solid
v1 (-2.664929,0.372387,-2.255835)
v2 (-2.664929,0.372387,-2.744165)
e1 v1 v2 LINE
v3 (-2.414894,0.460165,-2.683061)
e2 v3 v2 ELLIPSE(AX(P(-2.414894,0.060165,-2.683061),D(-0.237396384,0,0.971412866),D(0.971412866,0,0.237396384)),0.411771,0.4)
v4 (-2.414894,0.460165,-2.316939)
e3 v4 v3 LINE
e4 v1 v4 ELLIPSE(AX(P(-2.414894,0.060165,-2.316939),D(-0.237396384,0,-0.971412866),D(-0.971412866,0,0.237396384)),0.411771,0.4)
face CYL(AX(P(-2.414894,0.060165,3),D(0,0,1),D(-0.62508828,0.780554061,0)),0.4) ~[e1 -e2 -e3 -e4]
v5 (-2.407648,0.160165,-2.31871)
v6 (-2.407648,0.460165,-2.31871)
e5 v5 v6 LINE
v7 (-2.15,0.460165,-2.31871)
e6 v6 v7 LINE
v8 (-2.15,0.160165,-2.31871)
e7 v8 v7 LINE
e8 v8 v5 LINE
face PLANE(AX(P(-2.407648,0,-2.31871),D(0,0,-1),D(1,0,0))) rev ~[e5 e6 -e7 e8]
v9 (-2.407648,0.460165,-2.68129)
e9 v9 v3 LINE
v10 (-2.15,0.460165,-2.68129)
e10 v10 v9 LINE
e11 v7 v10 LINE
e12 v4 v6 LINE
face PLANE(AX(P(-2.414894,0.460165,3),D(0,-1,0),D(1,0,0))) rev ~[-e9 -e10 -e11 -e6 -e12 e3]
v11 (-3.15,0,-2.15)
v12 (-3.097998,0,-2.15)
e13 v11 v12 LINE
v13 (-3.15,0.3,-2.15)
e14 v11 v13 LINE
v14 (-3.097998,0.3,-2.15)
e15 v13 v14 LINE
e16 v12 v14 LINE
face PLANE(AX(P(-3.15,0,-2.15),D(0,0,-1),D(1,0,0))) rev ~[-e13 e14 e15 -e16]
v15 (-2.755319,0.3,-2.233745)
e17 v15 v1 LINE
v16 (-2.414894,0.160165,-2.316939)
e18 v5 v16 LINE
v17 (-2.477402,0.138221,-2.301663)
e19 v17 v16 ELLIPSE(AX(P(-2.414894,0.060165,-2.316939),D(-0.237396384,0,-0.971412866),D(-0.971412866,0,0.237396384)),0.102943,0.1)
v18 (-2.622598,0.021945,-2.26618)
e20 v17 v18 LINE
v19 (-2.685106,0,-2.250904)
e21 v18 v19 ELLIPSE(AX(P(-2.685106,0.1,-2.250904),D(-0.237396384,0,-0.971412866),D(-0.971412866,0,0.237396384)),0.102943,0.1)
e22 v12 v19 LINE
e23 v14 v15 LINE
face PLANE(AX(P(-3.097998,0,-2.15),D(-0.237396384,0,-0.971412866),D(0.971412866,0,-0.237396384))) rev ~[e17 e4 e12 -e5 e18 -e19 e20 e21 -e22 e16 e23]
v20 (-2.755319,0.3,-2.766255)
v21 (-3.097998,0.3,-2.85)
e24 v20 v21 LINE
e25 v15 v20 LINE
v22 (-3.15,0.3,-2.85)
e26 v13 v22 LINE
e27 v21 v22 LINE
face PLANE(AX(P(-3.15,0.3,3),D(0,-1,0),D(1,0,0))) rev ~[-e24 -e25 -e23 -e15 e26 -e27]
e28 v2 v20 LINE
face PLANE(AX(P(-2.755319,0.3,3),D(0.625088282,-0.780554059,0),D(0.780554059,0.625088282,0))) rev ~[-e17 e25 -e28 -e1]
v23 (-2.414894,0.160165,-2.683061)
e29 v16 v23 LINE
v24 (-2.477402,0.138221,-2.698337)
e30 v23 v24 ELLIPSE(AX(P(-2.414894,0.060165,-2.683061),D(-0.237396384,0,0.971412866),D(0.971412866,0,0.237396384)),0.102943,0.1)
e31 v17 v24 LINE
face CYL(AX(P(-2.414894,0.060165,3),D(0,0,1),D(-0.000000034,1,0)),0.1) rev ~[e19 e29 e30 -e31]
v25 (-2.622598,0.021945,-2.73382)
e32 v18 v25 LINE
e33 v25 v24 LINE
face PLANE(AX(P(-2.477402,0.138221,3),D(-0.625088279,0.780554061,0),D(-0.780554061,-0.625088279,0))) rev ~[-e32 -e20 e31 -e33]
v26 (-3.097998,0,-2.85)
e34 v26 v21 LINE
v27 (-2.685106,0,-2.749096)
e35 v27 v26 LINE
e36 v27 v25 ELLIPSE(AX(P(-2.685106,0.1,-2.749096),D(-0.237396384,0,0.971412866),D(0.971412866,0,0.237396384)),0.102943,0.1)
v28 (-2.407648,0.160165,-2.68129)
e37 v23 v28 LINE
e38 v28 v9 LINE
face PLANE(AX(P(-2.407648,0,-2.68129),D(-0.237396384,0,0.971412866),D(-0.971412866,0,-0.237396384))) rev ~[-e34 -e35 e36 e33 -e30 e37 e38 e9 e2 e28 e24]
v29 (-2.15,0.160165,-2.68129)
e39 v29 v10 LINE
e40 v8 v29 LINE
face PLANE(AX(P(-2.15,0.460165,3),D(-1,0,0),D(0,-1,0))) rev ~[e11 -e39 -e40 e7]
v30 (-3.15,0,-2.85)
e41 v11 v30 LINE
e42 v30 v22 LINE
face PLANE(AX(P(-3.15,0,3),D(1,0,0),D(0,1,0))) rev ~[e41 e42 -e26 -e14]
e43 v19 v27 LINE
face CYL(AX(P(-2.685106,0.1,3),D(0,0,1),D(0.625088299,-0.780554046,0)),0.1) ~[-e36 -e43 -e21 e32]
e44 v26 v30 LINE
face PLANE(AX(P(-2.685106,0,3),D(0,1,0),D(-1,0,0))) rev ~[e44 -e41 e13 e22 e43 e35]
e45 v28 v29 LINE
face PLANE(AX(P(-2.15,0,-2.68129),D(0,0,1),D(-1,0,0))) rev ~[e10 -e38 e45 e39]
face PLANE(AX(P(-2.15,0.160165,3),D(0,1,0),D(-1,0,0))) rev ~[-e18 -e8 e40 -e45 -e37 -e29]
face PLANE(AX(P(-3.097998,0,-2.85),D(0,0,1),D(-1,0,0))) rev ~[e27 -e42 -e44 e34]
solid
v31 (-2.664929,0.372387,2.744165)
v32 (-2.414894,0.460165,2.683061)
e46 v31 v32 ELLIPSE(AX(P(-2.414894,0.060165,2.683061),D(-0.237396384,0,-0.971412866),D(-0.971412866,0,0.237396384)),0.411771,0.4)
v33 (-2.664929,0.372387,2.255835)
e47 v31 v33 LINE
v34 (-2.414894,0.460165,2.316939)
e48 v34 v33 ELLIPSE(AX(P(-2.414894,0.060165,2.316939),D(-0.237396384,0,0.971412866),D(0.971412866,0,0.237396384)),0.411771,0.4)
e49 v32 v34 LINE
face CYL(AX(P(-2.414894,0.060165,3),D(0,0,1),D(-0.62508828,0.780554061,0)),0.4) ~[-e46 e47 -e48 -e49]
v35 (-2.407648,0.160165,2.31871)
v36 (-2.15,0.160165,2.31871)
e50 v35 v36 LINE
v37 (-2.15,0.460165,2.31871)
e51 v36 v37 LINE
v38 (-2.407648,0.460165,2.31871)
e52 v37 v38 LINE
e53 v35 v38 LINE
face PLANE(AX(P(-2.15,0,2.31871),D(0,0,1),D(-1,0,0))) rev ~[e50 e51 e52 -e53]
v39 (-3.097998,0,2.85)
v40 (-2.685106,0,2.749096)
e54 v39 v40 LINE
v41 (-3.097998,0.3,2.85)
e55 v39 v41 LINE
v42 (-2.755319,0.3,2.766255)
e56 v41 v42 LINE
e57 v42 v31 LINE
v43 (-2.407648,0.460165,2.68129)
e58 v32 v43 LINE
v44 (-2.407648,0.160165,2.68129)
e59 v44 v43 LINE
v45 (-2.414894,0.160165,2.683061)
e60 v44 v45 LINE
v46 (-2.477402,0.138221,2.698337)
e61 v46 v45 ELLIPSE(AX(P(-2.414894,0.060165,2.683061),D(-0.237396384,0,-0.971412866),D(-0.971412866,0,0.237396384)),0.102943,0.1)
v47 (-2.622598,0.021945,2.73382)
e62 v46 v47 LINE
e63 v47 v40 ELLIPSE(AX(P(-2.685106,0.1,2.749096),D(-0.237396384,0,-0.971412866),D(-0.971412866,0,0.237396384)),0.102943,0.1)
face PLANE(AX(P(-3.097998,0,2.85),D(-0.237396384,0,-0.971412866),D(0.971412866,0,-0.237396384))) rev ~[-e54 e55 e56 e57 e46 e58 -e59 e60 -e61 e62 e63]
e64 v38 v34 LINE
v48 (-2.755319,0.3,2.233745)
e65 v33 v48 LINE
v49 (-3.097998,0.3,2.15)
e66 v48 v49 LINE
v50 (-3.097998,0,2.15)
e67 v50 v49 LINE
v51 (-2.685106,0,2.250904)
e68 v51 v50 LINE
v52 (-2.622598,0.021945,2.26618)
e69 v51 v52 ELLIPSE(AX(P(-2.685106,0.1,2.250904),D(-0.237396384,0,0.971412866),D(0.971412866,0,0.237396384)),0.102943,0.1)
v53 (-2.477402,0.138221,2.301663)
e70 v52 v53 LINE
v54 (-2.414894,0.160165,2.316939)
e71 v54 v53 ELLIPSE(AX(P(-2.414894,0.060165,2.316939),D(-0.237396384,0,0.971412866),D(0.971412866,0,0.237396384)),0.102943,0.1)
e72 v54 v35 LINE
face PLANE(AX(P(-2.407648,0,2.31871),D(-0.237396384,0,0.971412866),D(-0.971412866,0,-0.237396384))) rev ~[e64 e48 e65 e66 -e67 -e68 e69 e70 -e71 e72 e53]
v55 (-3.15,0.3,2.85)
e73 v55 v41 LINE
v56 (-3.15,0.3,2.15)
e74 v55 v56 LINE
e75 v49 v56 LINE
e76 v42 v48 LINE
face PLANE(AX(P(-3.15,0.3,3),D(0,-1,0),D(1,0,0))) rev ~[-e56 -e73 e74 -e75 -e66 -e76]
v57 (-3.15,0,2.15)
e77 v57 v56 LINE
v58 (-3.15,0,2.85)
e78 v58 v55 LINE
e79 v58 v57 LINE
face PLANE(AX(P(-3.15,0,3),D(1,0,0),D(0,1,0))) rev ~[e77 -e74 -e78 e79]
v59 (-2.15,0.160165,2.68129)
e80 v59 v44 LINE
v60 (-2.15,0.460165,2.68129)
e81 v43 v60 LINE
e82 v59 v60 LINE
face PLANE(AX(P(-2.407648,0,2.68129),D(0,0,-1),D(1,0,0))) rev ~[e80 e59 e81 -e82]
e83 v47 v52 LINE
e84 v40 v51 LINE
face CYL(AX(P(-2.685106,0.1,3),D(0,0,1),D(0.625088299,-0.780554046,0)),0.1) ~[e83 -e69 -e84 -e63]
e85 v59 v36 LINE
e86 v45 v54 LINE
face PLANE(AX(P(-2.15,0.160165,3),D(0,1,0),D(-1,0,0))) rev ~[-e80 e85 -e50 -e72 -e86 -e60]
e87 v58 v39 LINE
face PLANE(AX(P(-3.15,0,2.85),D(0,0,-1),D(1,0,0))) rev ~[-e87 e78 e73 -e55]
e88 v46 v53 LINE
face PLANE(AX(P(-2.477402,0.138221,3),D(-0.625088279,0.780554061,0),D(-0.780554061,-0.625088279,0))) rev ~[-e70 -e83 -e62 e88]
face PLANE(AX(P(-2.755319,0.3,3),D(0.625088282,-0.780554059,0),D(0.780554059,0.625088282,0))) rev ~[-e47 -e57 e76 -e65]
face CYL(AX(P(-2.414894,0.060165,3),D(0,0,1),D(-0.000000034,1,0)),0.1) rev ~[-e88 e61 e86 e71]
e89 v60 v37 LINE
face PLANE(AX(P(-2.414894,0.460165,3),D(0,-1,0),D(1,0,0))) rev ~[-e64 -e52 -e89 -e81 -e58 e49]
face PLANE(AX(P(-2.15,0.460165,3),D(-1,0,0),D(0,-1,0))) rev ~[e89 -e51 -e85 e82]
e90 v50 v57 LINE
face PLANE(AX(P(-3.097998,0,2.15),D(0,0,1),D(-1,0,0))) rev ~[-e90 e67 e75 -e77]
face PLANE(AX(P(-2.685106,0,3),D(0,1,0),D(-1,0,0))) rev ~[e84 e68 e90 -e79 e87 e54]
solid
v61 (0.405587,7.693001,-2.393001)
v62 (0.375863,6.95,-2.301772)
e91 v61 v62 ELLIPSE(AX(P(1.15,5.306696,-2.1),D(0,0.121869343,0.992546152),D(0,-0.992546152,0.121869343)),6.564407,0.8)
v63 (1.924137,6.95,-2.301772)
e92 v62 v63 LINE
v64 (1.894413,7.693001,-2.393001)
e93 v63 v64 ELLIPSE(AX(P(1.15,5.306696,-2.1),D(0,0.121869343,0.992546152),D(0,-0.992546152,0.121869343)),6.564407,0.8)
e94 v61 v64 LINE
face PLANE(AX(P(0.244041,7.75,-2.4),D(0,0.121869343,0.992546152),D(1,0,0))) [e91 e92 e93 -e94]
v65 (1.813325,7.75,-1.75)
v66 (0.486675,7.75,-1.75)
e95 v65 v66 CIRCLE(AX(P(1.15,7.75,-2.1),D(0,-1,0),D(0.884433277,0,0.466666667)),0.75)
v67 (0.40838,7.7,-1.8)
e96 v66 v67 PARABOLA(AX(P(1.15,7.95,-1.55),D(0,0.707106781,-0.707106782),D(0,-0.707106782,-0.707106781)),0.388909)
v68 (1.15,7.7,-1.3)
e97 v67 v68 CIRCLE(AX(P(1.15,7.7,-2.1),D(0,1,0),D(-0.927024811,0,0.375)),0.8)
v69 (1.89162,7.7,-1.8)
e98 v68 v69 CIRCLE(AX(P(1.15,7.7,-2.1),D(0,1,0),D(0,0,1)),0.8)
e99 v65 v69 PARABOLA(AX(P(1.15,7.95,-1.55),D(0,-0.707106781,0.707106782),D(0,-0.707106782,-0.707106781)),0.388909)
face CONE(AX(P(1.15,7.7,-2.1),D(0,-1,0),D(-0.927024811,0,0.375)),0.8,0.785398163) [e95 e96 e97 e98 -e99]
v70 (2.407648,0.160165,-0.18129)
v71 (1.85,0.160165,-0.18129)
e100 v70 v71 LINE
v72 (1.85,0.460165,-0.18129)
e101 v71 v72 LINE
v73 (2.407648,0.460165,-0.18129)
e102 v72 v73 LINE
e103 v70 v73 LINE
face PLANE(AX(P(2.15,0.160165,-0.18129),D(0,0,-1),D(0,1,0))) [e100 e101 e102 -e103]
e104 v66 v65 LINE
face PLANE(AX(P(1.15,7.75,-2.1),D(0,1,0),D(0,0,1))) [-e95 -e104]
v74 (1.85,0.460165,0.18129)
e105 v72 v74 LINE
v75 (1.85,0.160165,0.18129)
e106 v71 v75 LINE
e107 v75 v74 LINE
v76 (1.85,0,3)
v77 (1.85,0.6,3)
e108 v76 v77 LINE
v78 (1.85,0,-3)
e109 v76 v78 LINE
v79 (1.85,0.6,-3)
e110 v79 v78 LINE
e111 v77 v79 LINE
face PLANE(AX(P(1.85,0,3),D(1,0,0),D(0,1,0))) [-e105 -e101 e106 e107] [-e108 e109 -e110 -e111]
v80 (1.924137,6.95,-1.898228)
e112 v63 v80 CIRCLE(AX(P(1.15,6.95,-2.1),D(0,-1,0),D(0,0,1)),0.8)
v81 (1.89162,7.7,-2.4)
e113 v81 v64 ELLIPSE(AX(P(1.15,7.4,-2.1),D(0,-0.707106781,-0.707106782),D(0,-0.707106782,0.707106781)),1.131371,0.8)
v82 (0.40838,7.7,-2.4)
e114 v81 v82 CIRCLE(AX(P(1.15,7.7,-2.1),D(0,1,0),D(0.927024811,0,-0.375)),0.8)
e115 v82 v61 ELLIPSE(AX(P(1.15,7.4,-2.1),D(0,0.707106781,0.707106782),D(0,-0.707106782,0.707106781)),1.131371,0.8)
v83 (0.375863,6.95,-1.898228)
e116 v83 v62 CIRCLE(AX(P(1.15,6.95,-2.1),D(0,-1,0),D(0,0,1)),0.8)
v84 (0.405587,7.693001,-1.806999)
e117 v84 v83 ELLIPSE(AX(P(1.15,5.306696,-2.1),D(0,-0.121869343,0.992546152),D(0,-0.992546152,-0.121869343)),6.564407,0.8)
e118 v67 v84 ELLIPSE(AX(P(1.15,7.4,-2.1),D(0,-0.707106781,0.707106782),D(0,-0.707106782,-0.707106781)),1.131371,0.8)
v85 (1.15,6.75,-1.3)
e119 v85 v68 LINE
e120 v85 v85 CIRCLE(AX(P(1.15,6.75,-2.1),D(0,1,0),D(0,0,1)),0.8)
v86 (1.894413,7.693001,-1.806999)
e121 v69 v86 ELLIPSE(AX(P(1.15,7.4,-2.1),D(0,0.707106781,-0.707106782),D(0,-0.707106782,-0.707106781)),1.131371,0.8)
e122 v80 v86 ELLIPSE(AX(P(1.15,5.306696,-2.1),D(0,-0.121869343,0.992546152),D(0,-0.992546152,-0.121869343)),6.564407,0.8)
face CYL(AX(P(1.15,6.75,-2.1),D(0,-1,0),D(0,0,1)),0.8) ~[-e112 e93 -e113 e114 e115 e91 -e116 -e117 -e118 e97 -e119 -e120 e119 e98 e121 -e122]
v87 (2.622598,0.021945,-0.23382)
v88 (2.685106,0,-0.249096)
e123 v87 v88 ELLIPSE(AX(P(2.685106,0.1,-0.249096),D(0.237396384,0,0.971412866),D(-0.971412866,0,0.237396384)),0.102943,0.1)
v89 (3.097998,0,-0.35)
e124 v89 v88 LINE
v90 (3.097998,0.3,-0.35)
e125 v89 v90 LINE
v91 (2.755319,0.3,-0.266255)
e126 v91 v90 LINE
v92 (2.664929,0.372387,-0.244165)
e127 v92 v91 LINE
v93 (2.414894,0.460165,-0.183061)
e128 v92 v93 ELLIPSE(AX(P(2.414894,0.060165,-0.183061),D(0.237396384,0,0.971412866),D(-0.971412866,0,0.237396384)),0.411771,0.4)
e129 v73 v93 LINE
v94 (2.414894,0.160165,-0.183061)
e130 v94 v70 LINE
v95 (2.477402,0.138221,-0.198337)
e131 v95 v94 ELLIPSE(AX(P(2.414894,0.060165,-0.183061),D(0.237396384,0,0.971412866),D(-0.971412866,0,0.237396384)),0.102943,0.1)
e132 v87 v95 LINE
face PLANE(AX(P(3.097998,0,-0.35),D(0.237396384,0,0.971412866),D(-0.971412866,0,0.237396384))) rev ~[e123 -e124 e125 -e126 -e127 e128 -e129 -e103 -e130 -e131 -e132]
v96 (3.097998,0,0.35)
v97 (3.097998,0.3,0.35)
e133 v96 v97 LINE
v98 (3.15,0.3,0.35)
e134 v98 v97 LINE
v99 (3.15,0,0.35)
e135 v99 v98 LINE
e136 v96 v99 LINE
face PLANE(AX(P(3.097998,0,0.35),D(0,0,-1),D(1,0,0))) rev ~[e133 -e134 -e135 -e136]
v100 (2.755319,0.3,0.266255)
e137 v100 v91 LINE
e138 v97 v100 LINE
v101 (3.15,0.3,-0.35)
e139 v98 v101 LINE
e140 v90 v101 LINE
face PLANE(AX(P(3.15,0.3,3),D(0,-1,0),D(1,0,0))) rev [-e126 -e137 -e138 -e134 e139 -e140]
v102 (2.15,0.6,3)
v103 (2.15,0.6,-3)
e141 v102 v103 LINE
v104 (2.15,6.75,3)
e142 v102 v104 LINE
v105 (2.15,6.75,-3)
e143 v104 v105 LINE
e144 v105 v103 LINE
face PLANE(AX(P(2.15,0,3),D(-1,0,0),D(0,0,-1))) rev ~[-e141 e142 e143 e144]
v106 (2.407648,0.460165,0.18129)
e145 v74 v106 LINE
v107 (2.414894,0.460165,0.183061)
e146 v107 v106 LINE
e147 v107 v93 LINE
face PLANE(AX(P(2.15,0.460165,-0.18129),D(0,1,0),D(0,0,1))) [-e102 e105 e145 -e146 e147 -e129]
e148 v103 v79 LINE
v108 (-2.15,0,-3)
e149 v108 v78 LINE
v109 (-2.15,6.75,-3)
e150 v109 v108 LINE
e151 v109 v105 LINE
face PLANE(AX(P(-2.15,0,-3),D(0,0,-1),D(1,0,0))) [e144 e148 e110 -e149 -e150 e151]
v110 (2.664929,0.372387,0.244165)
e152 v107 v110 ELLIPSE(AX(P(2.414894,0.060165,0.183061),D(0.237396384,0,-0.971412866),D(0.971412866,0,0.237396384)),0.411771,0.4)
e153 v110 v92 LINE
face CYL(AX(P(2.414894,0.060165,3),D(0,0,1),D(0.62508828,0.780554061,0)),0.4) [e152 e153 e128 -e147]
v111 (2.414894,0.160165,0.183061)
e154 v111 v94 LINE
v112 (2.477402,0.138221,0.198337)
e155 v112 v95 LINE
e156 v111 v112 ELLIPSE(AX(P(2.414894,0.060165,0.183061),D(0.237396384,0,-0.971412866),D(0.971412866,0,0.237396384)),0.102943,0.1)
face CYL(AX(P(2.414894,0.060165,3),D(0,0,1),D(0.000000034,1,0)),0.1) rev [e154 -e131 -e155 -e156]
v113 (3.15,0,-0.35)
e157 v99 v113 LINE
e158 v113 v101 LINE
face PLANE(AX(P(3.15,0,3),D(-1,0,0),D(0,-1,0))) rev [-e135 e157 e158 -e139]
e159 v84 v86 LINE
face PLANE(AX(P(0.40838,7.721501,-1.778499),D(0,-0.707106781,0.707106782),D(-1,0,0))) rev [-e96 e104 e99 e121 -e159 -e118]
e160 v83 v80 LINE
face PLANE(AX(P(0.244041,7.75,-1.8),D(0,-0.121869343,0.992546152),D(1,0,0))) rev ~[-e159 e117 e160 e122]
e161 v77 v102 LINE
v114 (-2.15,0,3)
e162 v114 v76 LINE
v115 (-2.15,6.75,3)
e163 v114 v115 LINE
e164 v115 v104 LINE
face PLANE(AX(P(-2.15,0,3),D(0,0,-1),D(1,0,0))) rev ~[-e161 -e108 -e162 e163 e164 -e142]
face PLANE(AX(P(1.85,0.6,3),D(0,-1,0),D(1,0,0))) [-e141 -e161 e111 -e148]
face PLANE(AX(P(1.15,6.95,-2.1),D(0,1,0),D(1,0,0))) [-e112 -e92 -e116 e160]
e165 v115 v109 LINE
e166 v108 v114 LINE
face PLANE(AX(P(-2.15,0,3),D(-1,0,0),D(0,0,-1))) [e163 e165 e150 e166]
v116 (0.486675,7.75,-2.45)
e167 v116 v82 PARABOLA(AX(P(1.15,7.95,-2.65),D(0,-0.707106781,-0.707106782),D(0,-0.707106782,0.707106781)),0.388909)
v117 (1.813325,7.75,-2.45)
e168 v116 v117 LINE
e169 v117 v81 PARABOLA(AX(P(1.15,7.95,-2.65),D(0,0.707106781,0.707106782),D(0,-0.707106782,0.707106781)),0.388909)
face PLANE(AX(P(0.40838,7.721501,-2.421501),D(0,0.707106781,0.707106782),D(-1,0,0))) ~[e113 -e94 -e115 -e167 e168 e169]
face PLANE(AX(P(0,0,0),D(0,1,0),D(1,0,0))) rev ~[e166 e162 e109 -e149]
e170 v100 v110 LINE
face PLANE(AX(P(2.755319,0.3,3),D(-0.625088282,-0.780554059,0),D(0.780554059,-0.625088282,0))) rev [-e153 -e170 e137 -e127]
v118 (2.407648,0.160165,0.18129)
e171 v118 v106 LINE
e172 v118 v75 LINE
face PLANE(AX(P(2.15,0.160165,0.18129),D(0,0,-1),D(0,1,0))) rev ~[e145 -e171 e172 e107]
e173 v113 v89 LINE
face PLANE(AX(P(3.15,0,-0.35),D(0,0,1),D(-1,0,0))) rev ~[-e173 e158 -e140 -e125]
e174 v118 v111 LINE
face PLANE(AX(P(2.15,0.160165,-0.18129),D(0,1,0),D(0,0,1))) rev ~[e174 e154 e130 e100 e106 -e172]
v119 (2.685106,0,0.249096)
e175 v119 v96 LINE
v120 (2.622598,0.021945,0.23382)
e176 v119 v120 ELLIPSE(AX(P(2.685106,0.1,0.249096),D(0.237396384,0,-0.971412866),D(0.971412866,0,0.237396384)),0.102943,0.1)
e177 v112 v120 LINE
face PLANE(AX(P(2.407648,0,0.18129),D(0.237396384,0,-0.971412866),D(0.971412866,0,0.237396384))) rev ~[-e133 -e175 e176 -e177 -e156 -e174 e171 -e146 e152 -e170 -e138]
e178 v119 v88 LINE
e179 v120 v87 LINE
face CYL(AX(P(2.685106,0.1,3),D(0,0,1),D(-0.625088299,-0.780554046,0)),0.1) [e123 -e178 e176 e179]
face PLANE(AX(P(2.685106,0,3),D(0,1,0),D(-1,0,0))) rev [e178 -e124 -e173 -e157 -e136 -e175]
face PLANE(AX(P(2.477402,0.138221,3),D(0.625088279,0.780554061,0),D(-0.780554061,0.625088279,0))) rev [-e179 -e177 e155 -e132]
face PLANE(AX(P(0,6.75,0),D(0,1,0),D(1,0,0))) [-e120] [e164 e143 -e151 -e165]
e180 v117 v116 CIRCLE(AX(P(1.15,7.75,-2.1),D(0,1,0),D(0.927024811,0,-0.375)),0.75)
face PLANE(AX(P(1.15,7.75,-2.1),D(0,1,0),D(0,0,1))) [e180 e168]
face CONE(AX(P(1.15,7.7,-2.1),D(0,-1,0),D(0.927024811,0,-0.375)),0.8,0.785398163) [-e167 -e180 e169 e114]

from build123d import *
from OCP.BRepFilletAPI import BRepFilletAPI_MakeChamfer

# Parameters (mm, degrees)
SKETCH1_W           = 4.3
SKETCH1_H           = 6
BOSS_EXTRUDE1_DEPTH = 6.75
SKETCH2_R           = 0.8
BOSS_EXTRUDE2_DEPTH = 1
SKETCH3_W           = 1.811917262
SKETCH3_H           = 0.6
CUT_EXTRUDE2_DEPTH  = 0.8
CUT_EXTRUDE2_DRAFT  = -7
CHAMFER1_SIZE       = 0.05
CHAMFER1_SIZE2      = 0.05742659
BOSS_EXTRUDE3_DEPTH = 6
CUT_EXTRUDE5_DEPTH  = 0.8
SKETCH9_W           = 0.3
SKETCH9_H           = 0.6
CUT_EXTRUDE7_DEPTH  = 11.294901651
SKETCH10_W          = 0.362580834
SKETCH10_H          = 0.3
BOSS_EXTRUDE4_DEPTH = 0.3


with BuildPart() as part:
    # Sketch1 → Boss-Extrude1 (new body)
    with BuildSketch(Plane(origin=(0, 0, 0), x_dir=(1, 0, 0), z_dir=(0, 1, 0))):
        Rectangle(SKETCH1_W, SKETCH1_H)
    extrude(amount=BOSS_EXTRUDE1_DEPTH)

    # Sketch2 → Boss-Extrude2 (add)
    with BuildSketch(Plane(origin=(0, 6.75, 0), x_dir=(1, 0, 0), z_dir=(0, 1, 0))):
        with Locations(Location((1.15, 2.1, 0), (0, 0, 270))):
            Circle(SKETCH2_R)
    extrude(amount=BOSS_EXTRUDE2_DEPTH)


with BuildPart() as cut_extrude2_tool:
    # Sketch3 → Cut-Extrude2 (with draft: the straight prism first)
    with BuildSketch(Plane(origin=(0, 7.75, 0), x_dir=(1, 0, 0), z_dir=(0, 1, 0))):
        with Locations((1.15, 2.1)):
            Rectangle(SKETCH3_W, SKETCH3_H)
    extrude(amount=-CUT_EXTRUDE2_DEPTH)
    # Cut-Extrude2: the draft: its side faces are tilted about the plane it starts from
    cut_extrude2_sides = [cut_extrude2_tool.faces().sort_by_distance(p)[0] for p in [
        (1.15, 7.35, -2.4),
        (0.244041369, 7.35, -2.1),
        (1.15, 7.35, -1.8),
        (2.055958631, 7.35, -2.1),
    ]]
    draft(cut_extrude2_sides, Plane(origin=(0, 7.75, 0), x_dir=(1, 0, 0), z_dir=(0, 1, 0)), CUT_EXTRUDE2_DRAFT)


with BuildPart() as part_1:
    add(part.part)

    # Cut-Extrude2: cut by cut_extrude2_tool
    add(cut_extrude2_tool.part, mode=Mode.SUBTRACT)

    # Chamfer1: one chamfer whose edges measure the first distance from different faces: ONE call of the kernel's chamfer builder (chamfer() names one face for all edges)
    chamfer1_edges_1 = [part_1.edges().sort_by_distance(p)[0] for p in [
        (1.15, 7.75, -2.4),
    ]]
    chamfer1_side_1 = [part_1.faces().sort_by_distance(p)[0] for p in [
        (1.15, 7.75, -2.606561726),
    ]]
    chamfer1_edges_2 = [part_1.edges().sort_by_distance(p)[0] for p in [
        (1.15, 7.75, -1.8),
    ]]
    chamfer1_side_2 = [part_1.faces().sort_by_distance(p)[0] for p in [
        (1.15, 7.75, -1.593438274),
    ]]
    chamfer1_edges_3 = [part_1.edges().sort_by_distance(p)[0] for p in [
        (1.597213595, 7.75, -1.436675042),
        (1.15, 7.75, -2.9),
    ]]
    chamfer1 = BRepFilletAPI_MakeChamfer(part_1.part.solid().wrapped)
    for e in chamfer1_edges_1:
        chamfer1.Add(CHAMFER1_SIZE, CHAMFER1_SIZE2, e.wrapped, chamfer1_side_1[0].wrapped)  # the first distance lies on this face
    for e in chamfer1_edges_2:
        chamfer1.Add(CHAMFER1_SIZE, CHAMFER1_SIZE2, e.wrapped, chamfer1_side_2[0].wrapped)  # the first distance lies on this face
    for e in chamfer1_edges_3:
        chamfer1.Add(CHAMFER1_SIZE, e.wrapped)
    add(Compound.cast(chamfer1.Shape()), mode=Mode.REPLACE)


with BuildPart() as body_2:
    # Sketch6 → Boss-Extrude3 (new, through all)
    with BuildSketch(Plane.XY.offset(3)):
        with BuildLine():
            Line((-2.15, 0.160165276), (-2.414893608, 0.160165276))
            ThreePointArc((-2.414893608, 0.160165276), (-2.448018066, 0.154519768), (-2.477402436, 0.138220682))
            Line((-2.477402436, 0.138220682), (-2.622597564, 0.021944594))
            ThreePointArc((-2.622597564, 0.021944594), (-2.651981934, 0.005645507), (-2.685106392, 0))
            Line((-2.685106392, 0), (-3.15, 0))
            Line((-3.15, 0), (-3.15, 0.3))
            Line((-3.15, 0.3), (-2.755319175, 0.3))
            Line((-2.755319175, 0.3), (-2.664928921, 0.3723869))
            ThreePointArc((-2.664928921, 0.3723869), (-2.547391439, 0.437583247), (-2.414893608, 0.460165276))
            Line((-2.414893608, 0.460165276), (-2.15, 0.460165276))
            Line((-2.15, 0.460165276), (-2.15, 0.160165276))
        make_face()
    boss_extrude3 = extrude(amount=-BOSS_EXTRUDE3_DEPTH)


with BuildPart() as part_2:
    add(part_1.part)

    # Mirror8: Boss-Extrude3 across plane
    add(boss_extrude3.mirror(Plane(origin=(0, 0, 0), x_dir=(0, 0, 1), z_dir=(1, 0, 0))))


with BuildPart() as cut_extrude5_tool:
    # Sketch7 → Cut-Extrude5 (new body)
    with BuildSketch(Plane.XZ):
        Polygon((-2.15, -2.318709583), (-2.15, 2.318709583), (-2.407647713, 2.318709583), (-3.09799799, 2.15), (-3.15, 2.15), (-3.15, -2.15), (-3.09799799, -2.15), (-2.407647713, -2.318709583), align=None)
        Polygon((-3.15, 2.85), (-3.09799799, 2.85), (-2.407647713, 2.681290417), (-2.15, 2.681290417), (-2.15, 3), (-3.15, 3), align=None)
        Polygon((-2.15, -3), (-2.15, -2.681290417), (-2.407647713, -2.681290417), (-3.09799799, -2.85), (-3.15, -2.85), (-3.15, -3), align=None)
        Polygon((2.407647713, -0.181290417), (2.15, -0.181290417), (2.15, -3), (3.15, -3), (3.15, -0.35), (3.09799799, -0.35), align=None)
        Polygon((2.15, 3), (2.15, 0.181290417), (2.407647713, 0.181290417), (3.09799799, 0.35), (3.15, 0.35), (3.15, 3), align=None)
    extrude(amount=-CUT_EXTRUDE5_DEPTH)


with BuildPart() as part_3:
    add(part_2.part)

    # Cut-Extrude5: cut by cut_extrude5_tool
    add(cut_extrude5_tool.part, mode=Mode.SUBTRACT)

    # Sketch9 → Cut-Extrude7 (cut, through all)
    with BuildSketch(Plane.XY.offset(3)):
        with Locations((2, 0.3)):
            Rectangle(SKETCH9_W, SKETCH9_H)
    extrude(amount=-CUT_EXTRUDE7_DEPTH, mode=Mode.SUBTRACT)


with BuildPart() as body_2_1:
    add(body_2.part)

    # Cut-Extrude5: cut by cut_extrude5_tool
    add(cut_extrude5_tool.part, mode=Mode.SUBTRACT)


with BuildPart() as cut_extrude7_piece_1:
    # of the separate pieces the step leaves, piece 1, a body of its own (cut_extrude7_pieces)
    add(part_3.part.solids().sort_by_distance((1.15, 7.7, -1.3))[0])



with BuildPart() as cut_extrude7_piece_2:
    # of the separate pieces the step leaves, piece 2, a body of its own (cut_extrude7_pieces)
    add(part_3.part.solids().sort_by_distance((2.414893608, 0.460165276, 0.183061188))[0])


with BuildPart() as cut_extrude7_piece_1_1:
    add(cut_extrude7_piece_1.part)

    add(cut_extrude7_piece_2.part)  # Boss-Extrude4 merges Cut-Extrude7 piece 2
    # Sketch10 → Boss-Extrude4 (add)
    with BuildSketch(Plane.ZY.offset(-2.15)):
        with Locations((0, 0.310165276)):
            Rectangle(SKETCH10_W, SKETCH10_H)
    extrude(amount=BOSS_EXTRUDE4_DEPTH)


solid = Compound([body_2_1.part, cut_extrude7_piece_1_1.part])
